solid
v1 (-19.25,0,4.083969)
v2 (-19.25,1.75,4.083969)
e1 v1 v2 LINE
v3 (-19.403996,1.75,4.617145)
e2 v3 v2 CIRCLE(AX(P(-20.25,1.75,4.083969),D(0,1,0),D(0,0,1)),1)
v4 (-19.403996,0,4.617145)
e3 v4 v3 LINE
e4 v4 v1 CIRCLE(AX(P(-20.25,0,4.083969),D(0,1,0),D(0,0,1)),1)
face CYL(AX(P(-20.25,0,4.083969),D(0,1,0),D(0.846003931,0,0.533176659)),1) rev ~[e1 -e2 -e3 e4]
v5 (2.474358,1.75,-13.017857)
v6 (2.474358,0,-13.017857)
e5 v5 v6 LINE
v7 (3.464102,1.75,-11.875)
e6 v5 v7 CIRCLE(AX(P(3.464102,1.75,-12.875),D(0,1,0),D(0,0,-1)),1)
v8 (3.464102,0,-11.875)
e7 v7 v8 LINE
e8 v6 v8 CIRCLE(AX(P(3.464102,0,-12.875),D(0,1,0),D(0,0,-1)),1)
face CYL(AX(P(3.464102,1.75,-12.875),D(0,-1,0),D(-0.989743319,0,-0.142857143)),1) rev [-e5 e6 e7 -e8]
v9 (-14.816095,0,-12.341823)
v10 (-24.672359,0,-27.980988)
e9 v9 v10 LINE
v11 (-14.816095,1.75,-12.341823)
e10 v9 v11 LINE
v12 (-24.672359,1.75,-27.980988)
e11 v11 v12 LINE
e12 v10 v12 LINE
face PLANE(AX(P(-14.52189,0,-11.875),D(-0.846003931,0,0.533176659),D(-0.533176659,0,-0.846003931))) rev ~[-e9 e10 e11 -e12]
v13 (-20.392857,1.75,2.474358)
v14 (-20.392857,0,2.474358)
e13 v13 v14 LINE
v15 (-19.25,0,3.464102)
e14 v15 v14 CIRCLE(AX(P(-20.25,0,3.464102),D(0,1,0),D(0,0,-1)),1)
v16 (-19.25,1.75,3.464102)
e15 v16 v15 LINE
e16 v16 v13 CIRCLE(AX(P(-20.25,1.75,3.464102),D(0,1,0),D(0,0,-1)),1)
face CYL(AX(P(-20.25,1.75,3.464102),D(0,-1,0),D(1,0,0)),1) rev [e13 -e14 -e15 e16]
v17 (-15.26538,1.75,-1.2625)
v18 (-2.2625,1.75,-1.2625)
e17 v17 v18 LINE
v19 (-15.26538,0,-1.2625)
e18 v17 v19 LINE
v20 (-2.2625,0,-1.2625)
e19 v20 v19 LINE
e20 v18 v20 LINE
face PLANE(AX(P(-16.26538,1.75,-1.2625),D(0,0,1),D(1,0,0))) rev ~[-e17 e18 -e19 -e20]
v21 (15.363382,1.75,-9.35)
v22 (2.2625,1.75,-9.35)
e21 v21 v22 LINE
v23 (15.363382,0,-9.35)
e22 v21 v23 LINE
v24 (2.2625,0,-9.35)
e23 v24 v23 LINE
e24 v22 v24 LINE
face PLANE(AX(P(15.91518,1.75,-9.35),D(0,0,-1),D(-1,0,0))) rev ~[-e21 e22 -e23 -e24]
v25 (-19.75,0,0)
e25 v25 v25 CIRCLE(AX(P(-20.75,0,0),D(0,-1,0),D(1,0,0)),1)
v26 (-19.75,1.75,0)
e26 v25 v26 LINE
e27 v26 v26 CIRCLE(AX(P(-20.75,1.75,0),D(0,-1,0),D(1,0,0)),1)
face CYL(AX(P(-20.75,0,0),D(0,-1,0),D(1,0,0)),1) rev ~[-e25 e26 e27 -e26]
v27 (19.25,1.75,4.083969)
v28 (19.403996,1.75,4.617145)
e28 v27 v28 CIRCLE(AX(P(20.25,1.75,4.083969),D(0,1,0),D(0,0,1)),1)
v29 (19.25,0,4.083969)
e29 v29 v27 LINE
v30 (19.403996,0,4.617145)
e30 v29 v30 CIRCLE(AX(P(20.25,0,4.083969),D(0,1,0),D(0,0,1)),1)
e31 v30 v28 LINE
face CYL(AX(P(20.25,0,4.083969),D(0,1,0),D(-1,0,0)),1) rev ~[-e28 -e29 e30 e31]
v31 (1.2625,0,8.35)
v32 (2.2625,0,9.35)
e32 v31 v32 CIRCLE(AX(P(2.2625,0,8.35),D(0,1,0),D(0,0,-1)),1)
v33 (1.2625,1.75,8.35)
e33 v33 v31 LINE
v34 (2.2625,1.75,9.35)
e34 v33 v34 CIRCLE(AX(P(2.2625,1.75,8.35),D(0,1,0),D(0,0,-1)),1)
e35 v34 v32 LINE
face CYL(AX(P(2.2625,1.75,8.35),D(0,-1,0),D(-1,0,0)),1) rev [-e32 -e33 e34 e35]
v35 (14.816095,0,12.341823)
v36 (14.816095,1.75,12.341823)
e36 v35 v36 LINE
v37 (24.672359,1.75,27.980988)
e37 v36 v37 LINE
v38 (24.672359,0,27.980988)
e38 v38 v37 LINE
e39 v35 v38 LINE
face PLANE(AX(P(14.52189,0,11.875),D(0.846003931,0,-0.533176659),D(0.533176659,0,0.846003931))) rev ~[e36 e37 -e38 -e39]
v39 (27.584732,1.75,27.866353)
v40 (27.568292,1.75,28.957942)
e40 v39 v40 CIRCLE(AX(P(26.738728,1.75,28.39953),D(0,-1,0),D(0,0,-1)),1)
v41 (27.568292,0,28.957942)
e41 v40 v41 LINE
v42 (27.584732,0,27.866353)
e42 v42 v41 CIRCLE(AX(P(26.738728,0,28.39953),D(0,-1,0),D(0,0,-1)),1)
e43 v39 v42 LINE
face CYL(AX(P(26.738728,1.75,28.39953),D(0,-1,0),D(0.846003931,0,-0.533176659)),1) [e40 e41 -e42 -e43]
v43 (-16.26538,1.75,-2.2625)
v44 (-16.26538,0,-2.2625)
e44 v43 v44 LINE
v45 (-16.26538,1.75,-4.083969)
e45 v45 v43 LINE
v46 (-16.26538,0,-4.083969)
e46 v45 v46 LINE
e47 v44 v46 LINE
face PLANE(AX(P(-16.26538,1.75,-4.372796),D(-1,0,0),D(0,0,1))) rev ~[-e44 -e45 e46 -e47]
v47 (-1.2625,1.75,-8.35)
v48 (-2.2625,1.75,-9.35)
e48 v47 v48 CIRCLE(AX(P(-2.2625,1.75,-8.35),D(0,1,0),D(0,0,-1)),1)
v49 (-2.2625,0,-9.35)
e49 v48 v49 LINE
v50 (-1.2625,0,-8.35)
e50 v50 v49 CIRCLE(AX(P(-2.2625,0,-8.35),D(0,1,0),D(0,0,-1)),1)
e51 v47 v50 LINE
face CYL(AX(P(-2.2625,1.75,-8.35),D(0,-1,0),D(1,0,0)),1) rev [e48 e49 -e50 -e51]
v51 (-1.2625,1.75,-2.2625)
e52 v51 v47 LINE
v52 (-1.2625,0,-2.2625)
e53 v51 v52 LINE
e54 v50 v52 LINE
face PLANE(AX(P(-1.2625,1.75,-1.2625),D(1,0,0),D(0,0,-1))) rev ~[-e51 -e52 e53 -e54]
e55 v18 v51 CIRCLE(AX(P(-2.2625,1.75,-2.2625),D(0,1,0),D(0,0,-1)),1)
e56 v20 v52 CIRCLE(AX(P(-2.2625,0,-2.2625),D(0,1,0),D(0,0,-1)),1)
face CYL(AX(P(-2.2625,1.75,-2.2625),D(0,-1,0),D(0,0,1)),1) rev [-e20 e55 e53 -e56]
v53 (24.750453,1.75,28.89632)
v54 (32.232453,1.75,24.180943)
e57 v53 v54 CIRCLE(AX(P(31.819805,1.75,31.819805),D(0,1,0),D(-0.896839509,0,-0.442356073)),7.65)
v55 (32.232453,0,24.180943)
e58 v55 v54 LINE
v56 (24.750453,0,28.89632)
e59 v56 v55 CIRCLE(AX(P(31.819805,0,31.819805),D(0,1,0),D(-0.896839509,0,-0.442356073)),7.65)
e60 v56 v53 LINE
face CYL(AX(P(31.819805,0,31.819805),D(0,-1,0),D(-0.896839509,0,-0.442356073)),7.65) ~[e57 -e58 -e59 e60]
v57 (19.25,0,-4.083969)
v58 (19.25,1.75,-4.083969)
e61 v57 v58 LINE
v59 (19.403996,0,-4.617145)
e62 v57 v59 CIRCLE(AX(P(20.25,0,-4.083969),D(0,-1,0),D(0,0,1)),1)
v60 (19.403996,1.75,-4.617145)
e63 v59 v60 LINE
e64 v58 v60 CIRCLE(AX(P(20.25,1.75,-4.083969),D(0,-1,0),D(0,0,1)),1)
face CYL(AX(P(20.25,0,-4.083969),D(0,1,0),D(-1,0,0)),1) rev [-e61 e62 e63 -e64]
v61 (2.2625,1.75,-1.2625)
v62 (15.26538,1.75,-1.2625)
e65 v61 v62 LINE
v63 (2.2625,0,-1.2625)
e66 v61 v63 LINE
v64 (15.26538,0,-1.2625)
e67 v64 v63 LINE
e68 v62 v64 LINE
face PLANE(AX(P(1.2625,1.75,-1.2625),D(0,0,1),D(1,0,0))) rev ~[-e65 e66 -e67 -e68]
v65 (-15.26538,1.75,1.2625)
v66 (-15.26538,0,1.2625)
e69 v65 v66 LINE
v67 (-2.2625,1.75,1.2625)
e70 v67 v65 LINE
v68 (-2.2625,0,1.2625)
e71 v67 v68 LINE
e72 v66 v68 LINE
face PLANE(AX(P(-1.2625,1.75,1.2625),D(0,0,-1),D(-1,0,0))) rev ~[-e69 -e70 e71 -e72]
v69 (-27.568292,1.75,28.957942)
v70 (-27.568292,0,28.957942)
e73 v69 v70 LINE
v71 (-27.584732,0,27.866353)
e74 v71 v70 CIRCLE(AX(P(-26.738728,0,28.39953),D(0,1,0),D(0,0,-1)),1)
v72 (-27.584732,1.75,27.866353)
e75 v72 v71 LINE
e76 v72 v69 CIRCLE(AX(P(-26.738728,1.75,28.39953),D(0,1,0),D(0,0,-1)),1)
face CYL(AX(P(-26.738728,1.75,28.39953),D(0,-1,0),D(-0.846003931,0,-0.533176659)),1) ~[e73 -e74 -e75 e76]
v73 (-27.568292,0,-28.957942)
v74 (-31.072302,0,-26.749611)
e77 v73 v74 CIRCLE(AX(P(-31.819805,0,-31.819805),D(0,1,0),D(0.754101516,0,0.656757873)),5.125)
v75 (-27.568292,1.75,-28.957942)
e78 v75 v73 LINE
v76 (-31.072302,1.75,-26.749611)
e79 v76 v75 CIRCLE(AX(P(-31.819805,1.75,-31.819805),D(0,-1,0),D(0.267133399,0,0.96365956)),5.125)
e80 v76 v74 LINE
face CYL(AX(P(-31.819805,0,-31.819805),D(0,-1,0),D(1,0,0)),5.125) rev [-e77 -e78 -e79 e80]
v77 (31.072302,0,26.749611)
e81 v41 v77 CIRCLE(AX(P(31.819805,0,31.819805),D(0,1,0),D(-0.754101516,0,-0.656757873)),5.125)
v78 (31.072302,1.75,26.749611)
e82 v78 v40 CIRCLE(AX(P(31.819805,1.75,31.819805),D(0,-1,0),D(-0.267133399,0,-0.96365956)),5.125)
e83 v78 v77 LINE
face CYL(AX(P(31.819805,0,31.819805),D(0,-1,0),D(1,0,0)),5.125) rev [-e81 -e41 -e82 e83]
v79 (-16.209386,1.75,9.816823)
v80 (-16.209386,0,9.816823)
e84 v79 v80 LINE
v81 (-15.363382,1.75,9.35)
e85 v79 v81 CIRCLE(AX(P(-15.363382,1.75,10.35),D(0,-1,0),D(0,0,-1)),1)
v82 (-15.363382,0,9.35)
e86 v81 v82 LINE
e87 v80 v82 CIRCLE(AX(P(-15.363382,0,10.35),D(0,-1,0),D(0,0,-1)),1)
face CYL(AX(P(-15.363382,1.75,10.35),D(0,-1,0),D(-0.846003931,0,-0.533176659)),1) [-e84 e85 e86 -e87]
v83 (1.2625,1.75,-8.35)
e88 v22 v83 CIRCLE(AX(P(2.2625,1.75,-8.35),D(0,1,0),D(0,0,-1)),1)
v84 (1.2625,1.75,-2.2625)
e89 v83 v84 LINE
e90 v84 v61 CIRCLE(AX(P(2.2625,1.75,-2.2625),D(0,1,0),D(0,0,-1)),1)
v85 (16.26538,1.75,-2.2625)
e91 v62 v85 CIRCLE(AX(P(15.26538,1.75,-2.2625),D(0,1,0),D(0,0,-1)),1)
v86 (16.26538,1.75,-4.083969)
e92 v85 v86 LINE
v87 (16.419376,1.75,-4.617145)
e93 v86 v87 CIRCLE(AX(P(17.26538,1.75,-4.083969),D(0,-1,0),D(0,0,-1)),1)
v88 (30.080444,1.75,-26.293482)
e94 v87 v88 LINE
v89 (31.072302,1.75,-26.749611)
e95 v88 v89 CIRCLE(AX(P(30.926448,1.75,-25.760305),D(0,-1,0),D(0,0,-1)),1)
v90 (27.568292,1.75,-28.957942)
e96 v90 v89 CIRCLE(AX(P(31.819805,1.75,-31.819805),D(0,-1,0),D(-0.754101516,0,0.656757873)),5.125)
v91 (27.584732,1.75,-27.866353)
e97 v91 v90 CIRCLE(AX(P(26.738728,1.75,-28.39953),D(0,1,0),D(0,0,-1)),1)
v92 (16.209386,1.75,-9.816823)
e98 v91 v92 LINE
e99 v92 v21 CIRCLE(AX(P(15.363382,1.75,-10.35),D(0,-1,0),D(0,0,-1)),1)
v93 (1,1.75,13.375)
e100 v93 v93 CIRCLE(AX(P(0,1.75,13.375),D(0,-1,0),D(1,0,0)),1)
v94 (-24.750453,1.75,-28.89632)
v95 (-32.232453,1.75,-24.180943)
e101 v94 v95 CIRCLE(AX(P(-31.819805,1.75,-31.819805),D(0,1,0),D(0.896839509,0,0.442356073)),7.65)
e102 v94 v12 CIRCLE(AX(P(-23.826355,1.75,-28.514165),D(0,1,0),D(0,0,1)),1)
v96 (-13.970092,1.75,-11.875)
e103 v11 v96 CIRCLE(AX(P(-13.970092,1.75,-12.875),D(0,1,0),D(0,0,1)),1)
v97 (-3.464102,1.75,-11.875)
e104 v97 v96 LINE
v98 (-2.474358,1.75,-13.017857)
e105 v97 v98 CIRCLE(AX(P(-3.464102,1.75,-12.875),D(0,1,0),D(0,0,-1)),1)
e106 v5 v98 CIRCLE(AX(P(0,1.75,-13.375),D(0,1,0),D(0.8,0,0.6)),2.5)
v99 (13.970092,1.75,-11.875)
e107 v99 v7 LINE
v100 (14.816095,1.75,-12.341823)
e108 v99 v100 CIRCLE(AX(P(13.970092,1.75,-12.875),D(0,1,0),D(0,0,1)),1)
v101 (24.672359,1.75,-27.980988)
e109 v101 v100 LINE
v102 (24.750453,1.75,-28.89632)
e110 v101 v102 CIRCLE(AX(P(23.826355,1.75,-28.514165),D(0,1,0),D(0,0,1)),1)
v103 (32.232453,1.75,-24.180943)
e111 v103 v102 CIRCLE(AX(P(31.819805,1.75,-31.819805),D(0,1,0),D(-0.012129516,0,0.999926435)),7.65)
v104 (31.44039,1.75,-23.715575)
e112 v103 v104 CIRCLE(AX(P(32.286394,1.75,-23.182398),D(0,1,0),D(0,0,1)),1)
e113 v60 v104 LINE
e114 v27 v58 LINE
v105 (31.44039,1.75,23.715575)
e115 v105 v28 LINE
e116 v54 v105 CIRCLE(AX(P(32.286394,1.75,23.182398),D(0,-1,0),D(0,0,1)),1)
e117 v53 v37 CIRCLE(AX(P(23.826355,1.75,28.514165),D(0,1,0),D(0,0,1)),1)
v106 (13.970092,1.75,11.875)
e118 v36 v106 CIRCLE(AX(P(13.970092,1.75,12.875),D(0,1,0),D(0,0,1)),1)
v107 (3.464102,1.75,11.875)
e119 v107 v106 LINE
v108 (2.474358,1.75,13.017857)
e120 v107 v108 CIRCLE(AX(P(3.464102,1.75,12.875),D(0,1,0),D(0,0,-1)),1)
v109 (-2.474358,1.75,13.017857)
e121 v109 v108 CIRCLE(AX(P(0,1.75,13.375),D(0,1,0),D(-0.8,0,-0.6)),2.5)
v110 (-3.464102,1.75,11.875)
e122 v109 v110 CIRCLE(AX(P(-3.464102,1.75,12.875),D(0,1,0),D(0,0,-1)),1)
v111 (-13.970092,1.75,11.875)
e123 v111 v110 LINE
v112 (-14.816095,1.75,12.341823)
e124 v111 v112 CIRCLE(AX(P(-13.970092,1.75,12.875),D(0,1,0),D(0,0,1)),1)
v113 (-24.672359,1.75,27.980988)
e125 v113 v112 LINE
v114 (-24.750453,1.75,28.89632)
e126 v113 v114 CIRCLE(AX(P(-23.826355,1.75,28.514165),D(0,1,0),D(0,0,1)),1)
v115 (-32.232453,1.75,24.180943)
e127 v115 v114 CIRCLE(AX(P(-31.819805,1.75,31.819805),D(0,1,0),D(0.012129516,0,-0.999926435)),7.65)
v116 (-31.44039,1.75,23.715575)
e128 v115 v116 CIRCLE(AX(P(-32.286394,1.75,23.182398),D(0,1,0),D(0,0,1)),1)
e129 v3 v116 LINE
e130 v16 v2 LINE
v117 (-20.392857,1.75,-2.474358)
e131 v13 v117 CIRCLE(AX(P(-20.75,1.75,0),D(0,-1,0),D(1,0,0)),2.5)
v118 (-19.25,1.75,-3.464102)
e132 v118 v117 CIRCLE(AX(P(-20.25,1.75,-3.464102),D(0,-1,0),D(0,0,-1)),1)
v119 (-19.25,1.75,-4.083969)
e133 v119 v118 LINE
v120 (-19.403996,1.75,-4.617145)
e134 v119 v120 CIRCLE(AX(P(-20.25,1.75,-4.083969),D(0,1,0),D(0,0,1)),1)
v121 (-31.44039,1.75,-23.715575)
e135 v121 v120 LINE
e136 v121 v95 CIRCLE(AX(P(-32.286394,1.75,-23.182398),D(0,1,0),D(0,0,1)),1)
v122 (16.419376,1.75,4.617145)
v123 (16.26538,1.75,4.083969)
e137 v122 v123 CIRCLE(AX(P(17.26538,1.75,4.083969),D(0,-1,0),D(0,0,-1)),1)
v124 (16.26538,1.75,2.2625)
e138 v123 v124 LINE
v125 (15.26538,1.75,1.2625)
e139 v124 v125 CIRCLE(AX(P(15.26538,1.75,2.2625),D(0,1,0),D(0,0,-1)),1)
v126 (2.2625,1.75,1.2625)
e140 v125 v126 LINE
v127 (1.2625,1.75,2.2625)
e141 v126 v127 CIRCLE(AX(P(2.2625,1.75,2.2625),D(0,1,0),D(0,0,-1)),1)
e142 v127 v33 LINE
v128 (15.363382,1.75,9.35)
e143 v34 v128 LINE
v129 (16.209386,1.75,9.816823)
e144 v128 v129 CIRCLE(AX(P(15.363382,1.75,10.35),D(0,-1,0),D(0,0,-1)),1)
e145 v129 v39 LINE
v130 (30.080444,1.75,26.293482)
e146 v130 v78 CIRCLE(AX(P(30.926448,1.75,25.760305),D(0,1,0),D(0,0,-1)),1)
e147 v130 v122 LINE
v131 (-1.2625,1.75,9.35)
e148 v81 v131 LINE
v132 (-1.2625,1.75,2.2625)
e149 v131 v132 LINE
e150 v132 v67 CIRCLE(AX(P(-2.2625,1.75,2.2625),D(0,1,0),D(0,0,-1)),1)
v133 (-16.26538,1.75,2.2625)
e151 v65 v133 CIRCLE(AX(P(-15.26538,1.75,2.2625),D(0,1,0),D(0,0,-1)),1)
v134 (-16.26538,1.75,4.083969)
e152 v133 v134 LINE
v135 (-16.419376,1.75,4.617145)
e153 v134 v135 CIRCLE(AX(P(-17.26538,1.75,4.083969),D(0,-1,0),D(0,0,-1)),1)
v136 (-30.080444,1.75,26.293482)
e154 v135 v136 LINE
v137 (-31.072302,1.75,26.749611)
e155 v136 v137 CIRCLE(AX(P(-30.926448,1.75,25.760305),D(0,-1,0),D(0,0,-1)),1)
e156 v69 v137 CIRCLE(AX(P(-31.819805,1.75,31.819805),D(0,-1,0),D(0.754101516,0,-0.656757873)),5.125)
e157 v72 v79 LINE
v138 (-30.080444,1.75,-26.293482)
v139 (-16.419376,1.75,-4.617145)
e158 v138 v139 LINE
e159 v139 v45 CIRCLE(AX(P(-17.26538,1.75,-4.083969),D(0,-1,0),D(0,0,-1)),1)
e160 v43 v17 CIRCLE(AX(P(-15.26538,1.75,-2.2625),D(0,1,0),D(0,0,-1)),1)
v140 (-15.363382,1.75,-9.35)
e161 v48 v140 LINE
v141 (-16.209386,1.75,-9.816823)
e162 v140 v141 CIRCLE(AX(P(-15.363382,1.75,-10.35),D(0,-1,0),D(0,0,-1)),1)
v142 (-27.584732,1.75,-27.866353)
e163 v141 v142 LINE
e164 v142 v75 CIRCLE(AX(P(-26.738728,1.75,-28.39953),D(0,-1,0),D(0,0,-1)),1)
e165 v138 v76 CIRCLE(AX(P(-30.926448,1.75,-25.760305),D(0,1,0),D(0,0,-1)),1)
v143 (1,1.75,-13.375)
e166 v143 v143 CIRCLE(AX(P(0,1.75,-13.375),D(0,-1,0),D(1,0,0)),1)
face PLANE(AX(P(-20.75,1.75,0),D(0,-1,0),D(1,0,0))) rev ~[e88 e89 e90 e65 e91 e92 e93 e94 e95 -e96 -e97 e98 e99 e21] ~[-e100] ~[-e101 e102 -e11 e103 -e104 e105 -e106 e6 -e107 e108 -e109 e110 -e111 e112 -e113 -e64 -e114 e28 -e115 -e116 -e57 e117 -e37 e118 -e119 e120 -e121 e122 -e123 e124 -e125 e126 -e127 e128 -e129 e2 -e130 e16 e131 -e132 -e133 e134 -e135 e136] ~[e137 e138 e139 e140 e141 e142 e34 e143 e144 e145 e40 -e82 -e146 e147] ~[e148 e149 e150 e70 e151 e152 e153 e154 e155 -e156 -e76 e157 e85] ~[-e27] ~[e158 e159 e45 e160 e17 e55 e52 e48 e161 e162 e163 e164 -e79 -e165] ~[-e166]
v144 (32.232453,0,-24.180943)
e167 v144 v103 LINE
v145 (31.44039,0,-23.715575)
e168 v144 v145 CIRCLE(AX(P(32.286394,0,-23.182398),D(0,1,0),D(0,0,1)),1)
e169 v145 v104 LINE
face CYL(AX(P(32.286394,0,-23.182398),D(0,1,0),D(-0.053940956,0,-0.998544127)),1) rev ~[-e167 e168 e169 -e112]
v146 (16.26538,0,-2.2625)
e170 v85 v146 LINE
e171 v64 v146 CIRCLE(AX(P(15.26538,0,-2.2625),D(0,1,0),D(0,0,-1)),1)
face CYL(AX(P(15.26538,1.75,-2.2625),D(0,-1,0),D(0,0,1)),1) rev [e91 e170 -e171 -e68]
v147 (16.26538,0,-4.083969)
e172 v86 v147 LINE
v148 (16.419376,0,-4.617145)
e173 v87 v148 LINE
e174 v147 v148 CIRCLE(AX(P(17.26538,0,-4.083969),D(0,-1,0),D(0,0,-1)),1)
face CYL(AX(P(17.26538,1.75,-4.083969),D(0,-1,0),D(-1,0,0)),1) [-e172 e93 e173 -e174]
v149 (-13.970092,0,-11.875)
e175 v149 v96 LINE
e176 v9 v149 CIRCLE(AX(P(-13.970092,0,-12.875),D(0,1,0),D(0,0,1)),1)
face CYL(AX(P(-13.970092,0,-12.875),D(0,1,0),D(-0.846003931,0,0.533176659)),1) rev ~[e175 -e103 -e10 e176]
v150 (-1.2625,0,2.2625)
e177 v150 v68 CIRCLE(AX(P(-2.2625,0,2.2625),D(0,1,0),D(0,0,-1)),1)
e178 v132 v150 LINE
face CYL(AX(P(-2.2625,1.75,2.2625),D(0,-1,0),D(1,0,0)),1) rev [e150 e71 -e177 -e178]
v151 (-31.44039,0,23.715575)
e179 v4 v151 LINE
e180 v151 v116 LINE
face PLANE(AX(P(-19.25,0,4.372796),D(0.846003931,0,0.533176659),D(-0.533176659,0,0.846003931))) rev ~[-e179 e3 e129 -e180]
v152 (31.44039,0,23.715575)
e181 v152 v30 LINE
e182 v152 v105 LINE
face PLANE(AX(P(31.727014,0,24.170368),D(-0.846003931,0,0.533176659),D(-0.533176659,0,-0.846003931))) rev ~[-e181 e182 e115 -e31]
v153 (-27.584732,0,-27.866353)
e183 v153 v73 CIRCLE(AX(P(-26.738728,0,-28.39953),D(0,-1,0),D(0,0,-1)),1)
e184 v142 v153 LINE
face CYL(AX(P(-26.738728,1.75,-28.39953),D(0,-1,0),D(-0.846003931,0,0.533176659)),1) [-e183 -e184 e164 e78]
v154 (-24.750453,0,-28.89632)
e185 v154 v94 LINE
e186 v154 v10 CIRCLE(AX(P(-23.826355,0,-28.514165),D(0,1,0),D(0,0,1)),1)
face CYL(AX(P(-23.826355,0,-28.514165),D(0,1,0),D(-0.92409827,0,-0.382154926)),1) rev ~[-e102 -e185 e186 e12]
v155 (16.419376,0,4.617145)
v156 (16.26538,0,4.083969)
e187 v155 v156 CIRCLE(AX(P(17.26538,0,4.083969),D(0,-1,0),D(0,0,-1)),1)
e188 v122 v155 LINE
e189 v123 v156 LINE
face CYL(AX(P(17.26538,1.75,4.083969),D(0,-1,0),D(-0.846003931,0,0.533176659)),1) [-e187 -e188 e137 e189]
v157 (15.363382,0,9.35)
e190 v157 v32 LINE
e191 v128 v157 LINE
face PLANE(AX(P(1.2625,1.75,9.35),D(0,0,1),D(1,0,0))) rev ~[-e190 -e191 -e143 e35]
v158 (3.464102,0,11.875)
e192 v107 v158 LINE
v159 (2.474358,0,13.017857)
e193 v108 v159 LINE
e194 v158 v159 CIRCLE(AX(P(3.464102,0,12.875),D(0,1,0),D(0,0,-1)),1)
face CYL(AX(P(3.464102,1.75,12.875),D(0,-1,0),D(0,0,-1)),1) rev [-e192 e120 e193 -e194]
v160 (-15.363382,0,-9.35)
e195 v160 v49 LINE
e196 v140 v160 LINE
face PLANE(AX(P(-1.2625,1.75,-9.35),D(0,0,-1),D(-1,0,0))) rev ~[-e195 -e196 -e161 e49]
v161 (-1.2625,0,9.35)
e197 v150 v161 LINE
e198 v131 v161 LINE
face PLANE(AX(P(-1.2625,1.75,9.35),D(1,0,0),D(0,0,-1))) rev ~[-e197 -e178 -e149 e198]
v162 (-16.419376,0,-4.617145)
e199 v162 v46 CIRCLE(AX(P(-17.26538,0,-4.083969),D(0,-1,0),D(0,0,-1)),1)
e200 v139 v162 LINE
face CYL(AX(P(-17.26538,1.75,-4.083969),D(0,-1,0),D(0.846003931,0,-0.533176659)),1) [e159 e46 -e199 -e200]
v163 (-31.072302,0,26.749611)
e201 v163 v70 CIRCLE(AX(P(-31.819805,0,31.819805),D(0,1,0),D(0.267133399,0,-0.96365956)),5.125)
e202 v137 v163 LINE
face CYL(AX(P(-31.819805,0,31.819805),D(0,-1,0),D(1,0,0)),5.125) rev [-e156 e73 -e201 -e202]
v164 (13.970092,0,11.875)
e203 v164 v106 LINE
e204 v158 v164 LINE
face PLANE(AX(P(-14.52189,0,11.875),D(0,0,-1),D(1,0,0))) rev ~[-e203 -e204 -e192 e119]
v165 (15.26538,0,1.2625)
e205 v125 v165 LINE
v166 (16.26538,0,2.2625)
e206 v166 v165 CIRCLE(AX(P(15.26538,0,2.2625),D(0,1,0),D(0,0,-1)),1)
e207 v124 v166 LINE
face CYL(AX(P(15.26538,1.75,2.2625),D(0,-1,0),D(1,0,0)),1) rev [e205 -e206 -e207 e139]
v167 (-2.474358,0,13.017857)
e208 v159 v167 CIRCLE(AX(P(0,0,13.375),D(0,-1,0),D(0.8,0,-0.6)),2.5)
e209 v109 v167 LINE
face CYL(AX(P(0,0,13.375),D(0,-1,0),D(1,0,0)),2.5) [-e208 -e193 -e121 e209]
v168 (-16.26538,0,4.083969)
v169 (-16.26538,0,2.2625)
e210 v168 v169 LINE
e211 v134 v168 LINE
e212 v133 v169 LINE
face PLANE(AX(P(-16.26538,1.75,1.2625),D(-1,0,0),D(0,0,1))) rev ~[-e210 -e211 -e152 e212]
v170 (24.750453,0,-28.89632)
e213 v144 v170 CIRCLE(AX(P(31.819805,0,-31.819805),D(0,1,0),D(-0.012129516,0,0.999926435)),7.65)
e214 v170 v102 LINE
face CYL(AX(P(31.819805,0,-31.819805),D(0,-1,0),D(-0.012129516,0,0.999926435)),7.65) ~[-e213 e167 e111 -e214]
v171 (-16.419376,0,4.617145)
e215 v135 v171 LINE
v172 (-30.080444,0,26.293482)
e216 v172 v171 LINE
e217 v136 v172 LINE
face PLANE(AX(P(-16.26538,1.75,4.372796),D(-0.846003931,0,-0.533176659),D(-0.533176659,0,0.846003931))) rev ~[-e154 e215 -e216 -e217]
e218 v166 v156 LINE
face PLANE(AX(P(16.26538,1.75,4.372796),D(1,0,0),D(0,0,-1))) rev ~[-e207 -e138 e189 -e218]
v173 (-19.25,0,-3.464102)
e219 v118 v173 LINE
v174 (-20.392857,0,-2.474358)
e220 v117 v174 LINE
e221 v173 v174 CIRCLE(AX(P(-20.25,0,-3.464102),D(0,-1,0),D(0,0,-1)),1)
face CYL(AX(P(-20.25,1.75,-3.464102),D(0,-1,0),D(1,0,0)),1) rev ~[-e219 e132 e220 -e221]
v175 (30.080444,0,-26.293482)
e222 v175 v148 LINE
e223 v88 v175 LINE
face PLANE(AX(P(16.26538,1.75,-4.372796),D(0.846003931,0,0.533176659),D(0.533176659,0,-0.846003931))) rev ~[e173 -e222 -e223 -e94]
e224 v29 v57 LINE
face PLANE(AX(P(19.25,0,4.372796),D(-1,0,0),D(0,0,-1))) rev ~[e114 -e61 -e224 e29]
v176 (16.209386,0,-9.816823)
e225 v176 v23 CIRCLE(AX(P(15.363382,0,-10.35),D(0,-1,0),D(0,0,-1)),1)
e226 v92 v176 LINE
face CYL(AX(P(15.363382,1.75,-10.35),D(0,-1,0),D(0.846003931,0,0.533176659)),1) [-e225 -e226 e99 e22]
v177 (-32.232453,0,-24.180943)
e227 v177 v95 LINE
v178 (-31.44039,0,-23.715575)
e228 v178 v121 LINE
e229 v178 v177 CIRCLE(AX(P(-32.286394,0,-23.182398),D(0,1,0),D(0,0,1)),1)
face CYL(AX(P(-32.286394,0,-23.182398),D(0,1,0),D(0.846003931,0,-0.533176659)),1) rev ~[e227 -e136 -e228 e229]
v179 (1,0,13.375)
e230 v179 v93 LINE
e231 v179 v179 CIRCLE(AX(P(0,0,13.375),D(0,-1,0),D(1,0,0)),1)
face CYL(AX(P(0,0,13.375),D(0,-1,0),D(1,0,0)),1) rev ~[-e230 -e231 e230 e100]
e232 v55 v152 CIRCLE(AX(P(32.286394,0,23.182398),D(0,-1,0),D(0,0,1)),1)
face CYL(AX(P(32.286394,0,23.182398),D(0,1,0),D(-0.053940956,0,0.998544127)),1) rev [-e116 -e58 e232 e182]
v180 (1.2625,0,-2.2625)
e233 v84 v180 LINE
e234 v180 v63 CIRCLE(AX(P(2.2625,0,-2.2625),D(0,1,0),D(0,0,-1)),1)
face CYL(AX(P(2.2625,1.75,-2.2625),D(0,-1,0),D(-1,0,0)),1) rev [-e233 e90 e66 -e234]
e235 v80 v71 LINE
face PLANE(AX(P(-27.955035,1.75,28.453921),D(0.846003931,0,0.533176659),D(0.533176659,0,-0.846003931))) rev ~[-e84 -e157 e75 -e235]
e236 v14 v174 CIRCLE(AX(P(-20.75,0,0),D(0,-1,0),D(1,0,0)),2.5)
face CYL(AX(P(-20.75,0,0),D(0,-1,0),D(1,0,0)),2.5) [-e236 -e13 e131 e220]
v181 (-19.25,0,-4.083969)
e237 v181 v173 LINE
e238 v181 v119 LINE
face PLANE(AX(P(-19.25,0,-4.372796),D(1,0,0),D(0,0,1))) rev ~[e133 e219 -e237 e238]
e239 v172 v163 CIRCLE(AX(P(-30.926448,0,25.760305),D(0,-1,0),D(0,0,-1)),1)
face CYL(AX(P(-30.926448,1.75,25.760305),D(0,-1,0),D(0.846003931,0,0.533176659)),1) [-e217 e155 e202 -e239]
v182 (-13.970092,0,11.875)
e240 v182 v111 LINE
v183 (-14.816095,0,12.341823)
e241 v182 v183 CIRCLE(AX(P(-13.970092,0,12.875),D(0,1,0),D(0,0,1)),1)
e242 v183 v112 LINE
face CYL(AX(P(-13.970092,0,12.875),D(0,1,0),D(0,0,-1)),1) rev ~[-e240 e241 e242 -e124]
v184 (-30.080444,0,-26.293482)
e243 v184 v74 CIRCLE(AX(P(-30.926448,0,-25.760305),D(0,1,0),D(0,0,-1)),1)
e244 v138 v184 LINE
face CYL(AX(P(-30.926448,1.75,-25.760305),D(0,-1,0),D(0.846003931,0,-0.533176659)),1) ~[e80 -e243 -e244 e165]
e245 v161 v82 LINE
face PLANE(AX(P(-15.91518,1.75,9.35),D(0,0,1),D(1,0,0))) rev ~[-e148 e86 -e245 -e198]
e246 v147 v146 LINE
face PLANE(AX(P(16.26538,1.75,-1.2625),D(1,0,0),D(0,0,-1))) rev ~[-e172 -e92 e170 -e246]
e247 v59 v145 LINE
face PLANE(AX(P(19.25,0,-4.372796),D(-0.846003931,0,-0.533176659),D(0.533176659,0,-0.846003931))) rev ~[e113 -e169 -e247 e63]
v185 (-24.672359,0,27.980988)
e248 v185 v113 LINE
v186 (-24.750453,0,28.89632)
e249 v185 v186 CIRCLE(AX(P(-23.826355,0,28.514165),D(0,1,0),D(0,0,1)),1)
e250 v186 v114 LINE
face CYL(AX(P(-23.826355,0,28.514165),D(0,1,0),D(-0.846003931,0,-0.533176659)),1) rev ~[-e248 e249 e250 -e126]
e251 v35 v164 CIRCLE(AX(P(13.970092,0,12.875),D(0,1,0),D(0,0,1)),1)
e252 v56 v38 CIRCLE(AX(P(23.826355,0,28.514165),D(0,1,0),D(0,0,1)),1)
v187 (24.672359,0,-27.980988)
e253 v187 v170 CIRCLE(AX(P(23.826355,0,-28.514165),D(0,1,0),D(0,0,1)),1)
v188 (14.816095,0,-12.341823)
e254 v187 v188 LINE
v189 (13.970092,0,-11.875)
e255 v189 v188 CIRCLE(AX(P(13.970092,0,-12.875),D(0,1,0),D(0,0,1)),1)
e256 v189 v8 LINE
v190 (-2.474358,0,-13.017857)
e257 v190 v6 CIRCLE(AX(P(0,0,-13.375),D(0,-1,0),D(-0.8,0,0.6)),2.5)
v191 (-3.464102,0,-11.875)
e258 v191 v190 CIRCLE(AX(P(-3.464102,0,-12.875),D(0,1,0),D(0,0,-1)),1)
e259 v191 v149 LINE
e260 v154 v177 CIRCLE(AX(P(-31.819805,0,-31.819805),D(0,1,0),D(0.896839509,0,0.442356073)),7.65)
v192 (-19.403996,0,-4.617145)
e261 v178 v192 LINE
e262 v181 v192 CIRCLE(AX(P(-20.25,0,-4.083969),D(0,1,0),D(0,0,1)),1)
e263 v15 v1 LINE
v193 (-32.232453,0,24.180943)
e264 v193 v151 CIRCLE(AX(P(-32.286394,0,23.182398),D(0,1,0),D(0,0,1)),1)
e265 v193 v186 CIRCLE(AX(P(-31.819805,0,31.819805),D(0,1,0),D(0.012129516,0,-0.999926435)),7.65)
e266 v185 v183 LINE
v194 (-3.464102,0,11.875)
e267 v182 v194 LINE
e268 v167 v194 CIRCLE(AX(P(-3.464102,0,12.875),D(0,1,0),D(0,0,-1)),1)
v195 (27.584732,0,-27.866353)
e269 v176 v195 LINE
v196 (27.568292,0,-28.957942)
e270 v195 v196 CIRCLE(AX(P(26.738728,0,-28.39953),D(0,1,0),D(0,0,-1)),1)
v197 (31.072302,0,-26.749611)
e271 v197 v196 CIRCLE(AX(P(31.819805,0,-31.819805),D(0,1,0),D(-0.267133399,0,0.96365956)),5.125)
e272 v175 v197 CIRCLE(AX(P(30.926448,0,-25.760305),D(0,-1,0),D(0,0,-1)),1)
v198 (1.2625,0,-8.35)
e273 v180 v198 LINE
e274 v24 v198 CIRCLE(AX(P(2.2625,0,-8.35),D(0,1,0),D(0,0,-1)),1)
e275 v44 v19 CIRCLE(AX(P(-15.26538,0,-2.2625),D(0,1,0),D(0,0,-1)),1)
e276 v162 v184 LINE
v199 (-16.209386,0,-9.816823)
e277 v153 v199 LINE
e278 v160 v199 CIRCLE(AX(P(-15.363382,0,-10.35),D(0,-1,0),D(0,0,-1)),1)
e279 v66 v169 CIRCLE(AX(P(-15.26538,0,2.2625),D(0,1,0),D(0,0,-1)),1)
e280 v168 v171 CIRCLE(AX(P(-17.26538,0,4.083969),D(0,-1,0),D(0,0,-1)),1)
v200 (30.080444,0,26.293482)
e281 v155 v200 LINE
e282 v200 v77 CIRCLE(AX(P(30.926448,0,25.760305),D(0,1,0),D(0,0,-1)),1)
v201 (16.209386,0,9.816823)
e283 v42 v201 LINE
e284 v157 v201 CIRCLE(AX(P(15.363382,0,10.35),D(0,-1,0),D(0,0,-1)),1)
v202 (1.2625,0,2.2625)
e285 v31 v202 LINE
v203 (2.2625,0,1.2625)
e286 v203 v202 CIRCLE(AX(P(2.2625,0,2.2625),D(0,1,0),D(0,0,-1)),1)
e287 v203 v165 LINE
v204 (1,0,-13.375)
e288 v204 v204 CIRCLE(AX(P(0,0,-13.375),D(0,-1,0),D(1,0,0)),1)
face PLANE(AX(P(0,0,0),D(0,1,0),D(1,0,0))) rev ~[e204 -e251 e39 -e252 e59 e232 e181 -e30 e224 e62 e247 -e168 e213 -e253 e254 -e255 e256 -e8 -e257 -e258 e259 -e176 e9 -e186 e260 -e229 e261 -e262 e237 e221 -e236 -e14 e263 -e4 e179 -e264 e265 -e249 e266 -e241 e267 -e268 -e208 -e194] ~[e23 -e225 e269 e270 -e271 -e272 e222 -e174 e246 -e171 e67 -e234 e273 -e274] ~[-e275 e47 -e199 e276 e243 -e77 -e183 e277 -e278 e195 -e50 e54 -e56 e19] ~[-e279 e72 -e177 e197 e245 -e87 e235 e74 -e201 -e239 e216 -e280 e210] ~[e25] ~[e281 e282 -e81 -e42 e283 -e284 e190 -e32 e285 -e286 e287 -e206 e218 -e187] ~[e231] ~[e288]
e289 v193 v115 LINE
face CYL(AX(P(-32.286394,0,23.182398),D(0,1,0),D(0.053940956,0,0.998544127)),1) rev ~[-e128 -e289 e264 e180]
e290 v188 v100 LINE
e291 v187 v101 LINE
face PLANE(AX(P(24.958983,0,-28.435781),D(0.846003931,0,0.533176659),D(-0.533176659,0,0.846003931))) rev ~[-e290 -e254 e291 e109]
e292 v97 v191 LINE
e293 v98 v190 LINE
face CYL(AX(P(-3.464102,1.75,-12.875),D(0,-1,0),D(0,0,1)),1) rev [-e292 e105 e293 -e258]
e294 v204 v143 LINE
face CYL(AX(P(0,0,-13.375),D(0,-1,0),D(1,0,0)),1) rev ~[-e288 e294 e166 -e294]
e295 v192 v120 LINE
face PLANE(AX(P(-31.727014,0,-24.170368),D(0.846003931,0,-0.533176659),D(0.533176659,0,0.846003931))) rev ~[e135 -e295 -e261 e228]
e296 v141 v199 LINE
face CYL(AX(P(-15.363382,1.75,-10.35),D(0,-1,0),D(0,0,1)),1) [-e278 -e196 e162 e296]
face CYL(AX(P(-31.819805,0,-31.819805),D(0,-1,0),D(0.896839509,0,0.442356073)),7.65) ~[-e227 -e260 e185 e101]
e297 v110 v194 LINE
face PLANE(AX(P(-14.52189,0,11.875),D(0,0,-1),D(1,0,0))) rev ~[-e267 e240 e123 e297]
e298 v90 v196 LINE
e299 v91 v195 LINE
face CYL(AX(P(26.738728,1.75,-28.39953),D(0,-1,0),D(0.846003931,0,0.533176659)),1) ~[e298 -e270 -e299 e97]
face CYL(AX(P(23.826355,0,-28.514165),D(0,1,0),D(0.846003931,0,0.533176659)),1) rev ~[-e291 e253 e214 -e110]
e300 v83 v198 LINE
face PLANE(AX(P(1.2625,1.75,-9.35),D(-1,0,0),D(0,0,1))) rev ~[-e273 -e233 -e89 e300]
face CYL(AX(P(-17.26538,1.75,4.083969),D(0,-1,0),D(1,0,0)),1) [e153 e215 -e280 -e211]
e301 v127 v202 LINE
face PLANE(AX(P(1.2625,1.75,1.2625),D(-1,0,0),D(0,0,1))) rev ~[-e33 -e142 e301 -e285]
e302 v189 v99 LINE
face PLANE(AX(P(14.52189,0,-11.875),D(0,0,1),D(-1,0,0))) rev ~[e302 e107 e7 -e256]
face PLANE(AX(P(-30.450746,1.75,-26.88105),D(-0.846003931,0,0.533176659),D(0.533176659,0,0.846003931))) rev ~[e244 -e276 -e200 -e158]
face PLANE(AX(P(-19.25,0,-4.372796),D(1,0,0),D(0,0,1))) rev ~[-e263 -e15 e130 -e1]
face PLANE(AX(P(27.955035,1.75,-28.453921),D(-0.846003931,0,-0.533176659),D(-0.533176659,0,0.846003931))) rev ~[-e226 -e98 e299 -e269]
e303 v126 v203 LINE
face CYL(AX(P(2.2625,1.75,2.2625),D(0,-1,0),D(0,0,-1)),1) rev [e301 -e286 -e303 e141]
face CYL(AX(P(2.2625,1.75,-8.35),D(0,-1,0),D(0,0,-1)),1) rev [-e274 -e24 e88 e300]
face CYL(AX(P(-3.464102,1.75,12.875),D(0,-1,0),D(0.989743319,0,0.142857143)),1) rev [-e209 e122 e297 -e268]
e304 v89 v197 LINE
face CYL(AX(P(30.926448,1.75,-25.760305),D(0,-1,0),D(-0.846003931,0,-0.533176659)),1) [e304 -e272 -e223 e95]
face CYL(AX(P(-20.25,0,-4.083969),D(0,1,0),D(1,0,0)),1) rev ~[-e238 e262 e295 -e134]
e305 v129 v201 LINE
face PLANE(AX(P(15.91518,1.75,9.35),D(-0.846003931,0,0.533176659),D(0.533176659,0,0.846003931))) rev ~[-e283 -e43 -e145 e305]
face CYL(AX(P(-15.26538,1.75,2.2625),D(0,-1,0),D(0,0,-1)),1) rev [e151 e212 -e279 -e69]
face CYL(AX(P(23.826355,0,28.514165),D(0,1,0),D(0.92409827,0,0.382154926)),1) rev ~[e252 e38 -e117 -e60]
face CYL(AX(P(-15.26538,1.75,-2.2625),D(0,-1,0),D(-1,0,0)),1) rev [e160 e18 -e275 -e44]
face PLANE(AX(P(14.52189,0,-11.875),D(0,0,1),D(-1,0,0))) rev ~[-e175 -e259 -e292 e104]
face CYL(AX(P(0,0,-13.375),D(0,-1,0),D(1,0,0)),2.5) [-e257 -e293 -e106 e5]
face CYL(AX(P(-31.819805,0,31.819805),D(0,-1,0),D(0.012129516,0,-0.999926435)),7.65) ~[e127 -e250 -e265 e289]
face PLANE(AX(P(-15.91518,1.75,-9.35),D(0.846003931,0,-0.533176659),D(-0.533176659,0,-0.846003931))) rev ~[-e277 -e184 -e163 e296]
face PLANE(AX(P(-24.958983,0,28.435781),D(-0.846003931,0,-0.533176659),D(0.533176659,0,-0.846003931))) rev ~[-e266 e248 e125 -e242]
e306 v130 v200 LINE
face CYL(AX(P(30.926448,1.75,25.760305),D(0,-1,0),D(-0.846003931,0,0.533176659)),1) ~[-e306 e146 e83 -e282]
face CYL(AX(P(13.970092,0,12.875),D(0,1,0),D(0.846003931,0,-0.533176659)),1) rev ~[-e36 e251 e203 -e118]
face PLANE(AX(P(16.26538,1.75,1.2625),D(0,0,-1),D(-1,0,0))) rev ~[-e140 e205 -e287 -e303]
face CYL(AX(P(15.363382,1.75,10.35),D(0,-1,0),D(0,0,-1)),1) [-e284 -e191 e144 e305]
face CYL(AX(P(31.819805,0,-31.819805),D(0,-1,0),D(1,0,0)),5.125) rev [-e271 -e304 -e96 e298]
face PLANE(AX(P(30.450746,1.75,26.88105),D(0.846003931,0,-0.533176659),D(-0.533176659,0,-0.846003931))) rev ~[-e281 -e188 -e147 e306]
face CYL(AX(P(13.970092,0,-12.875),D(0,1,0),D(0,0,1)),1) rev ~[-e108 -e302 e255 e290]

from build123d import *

# Parameters (mm, degrees)
SKETCH1_R           = 5.125
BOSS_EXTRUDE1_DEPTH = 1.75
CUT_EXTRUDE2_REACH  = 3.75
FILLET1_R           = 1
SKETCH4_R           = 2.5
SKETCH4_R_2         = 1
BOSS_EXTRUDE2_DEPTH = 1.75
FILLET2_R           = 1


with BuildPart() as part:
    # Sketch1 → Boss-Extrude1 (new body)
    with BuildSketch(Plane(origin=(0, 0, 0), x_dir=(1, 0, 0), z_dir=(0, 1, 0))):
        with BuildLine():
            Line((19.25, -4.372796114), (19.25, 4.372796114))
            Line((19.25, 4.372796114), (31.727014355, 24.170367928))
            ThreePointArc((31.727014355, 24.170367928), (35.898606592, 38.291735223), (24.95898291, 28.435781196))
            Line((24.95898291, 28.435781196), (14.52188958, 11.875))
            Line((14.52188958, 11.875), (-14.52188958, 11.875))
            Line((-14.52188958, 11.875), (-24.95898291, 28.435781196))
            ThreePointArc((-24.95898291, 28.435781196), (-35.898606592, 38.291735223), (-31.727014355, 24.170367928))
            Line((-31.727014355, 24.170367928), (-19.25, 4.372796114))
            Line((-19.25, 4.372796114), (-19.25, -4.372796114))
            Line((-19.25, -4.372796114), (-31.727014355, -24.170367928))
            ThreePointArc((-31.727014355, -24.170367928), (-35.898606592, -38.291735223), (-24.95898291, -28.435781196))
            Line((-24.95898291, -28.435781196), (-14.52188958, -11.875))
            Line((-14.52188958, -11.875), (14.52188958, -11.875))
            Line((14.52188958, -11.875), (24.95898291, -28.435781196))
            ThreePointArc((24.95898291, -28.435781196), (35.898606592, -38.291735223), (31.727014355, -24.170367928))
            Line((31.727014355, -24.170367928), (19.25, -4.372796114))
        make_face()
        with Locations((-31.819805153, 31.819805153)):
            Circle(SKETCH1_R, mode=Mode.SUBTRACT)
        with Locations((31.819805153, 31.819805153)):
            Circle(SKETCH1_R, mode=Mode.SUBTRACT)
        with Locations((-31.819805153, -31.819805153)):
            Circle(SKETCH1_R, mode=Mode.SUBTRACT)
        with Locations((31.819805153, -31.819805153)):
            Circle(SKETCH1_R, mode=Mode.SUBTRACT)
    extrude(amount=BOSS_EXTRUDE1_DEPTH)

    # Sketch2 → Cut-Extrude2 (cut, up to next)
    with BuildSketch(Plane(origin=(0, 1.75, 0), x_dir=(1, 0, 0), z_dir=(0, 1, 0)), mode=Mode.PRIVATE) as cut_extrude2_sk1:
        with BuildLine():
            ThreePointArc((-27.955034886, 28.453921053), (-29.087274778, 27.484035009), (-30.450746481, 26.88104991))
            Line((-30.450746481, 26.88104991), (-16.265380297, 4.372796114))
            Line((-16.265380297, 4.372796114), (-16.265380297, 1.2625))
            Line((-16.265380297, 1.2625), (-1.2625, 1.2625))
            Line((-1.2625, 1.2625), (-1.2625, 9.35))
            Line((-1.2625, 9.35), (-15.915179722, 9.35))
            Line((-15.915179722, 9.35), (-27.955034886, 28.453921053))
        make_face()
    cut_extrude2_tool1 = extrude(cut_extrude2_sk1.sketch, amount=-CUT_EXTRUDE2_REACH, mode=Mode.PRIVATE) & part.part
    add(cut_extrude2_tool1.solids().sort_by_distance((-22.27259, 1.75, -18.689269))[0], mode=Mode.SUBTRACT)
    # Sketch2 → Cut-Extrude2 (cut, up to next)
    with BuildSketch(Plane(origin=(0, 1.75, 0), x_dir=(1, 0, 0), z_dir=(0, 1, 0)), mode=Mode.PRIVATE) as cut_extrude2_sk2:
        with BuildLine():
            Line((-16.265380297, -1.2625), (-16.265380297, -4.372796114))
            Line((-16.265380297, -4.372796114), (-30.450746481, -26.88104991))
            ThreePointArc((-30.450746481, -26.88104991), (-29.087274778, -27.484035009), (-27.955034886, -28.453921053))
            Line((-27.955034886, -28.453921053), (-15.915179722, -9.35))
            Line((-15.915179722, -9.35), (-1.2625, -9.35))
            Line((-1.2625, -9.35), (-1.2625, -1.2625))
            Line((-1.2625, -1.2625), (-16.265380297, -1.2625))
        make_face()
    cut_extrude2_tool2 = extrude(cut_extrude2_sk2.sketch, amount=-CUT_EXTRUDE2_REACH, mode=Mode.PRIVATE) & part.part
    add(cut_extrude2_tool2.solids().sort_by_distance((-15.866466, 1.75, 2.817648))[0], mode=Mode.SUBTRACT)
    # Sketch2 → Cut-Extrude2 (cut, up to next)
    with BuildSketch(Plane(origin=(0, 1.75, 0), x_dir=(1, 0, 0), z_dir=(0, 1, 0)), mode=Mode.PRIVATE) as cut_extrude2_sk3:
        with BuildLine():
            Line((15.915179722, 9.35), (1.2625, 9.35))
            Line((1.2625, 9.35), (1.2625, 1.2625))
            Line((1.2625, 1.2625), (16.265380297, 1.2625))
            Line((16.265380297, 1.2625), (16.265380297, 4.372796114))
            Line((16.265380297, 4.372796114), (30.450746481, 26.88104991))
            ThreePointArc((30.450746481, 26.88104991), (29.087274778, 27.484035009), (27.955034886, 28.453921053))
            Line((27.955034886, 28.453921053), (15.915179722, 9.35))
        make_face()
    cut_extrude2_tool3 = extrude(cut_extrude2_sk3.sketch, amount=-CUT_EXTRUDE2_REACH, mode=Mode.PRIVATE) & part.part
    add(cut_extrude2_tool3.solids().sort_by_distance((22.27259, 1.75, -18.689269))[0], mode=Mode.SUBTRACT)
    # Sketch2 → Cut-Extrude2 (cut, up to next)
    with BuildSketch(Plane(origin=(0, 1.75, 0), x_dir=(1, 0, 0), z_dir=(0, 1, 0)), mode=Mode.PRIVATE) as cut_extrude2_sk4:
        with BuildLine():
            Line((1.2625, -1.2625), (1.2625, -9.35))
            Line((1.2625, -9.35), (15.915179722, -9.35))
            Line((15.915179722, -9.35), (27.955034886, -28.453921053))
            ThreePointArc((27.955034886, -28.453921053), (29.087274778, -27.484035009), (30.450746481, -26.88104991))
            Line((30.450746481, -26.88104991), (16.265380297, -4.372796114))
            Line((16.265380297, -4.372796114), (16.265380297, -1.2625))
            Line((16.265380297, -1.2625), (1.2625, -1.2625))
        make_face()
    cut_extrude2_tool4 = extrude(cut_extrude2_sk4.sketch, amount=-CUT_EXTRUDE2_REACH, mode=Mode.PRIVATE) & part.part
    add(cut_extrude2_tool4.solids().sort_by_distance((28.874583, 1.75, 27.146552))[0], mode=Mode.SUBTRACT)

    # Fillet1
    fillet1_edges = [part.edges().sort_by_distance(p)[0] for p in [
        (16.265380297, 0.875, -1.2625),
        (1.2625, 0.875, -1.2625),
        (1.2625, 0.875, -9.35),
        (15.915179722, 0.875, -9.35),
        (27.955034886, 0.875, -28.453921053),
        (30.450746481, 0.875, -26.88104991),
        (16.265380297, 0.875, -4.372796114),
        (-31.727014355, 0.875, 24.170367928),
        (-19.25, 0.875, 4.372796114),
        (-14.52188958, 0.875, 11.875),
        (-24.95898291, 0.875, 28.435781196),
        (1.2625, 0.875, 1.2625),
        (16.265380297, 0.875, 1.2625),
        (16.265380297, 0.875, 4.372796114),
        (30.450746481, 0.875, 26.88104991),
        (27.955034886, 0.875, 28.453921053),
        (15.915179722, 0.875, 9.35),
        (1.2625, 0.875, 9.35),
        (-16.265380297, 0.875, 1.2625),
        (-1.2625, 0.875, 1.2625),
        (-15.915179722, 0.875, 9.35),
        (-27.955034886, 0.875, 28.453921053),
        (-30.450746481, 0.875, 26.88104991),
        (-16.265380297, 0.875, 4.372796114),
        (-31.727014355, 0.875, -24.170367928),
        (-19.25, 0.875, -4.372796114),
        (-14.52188958, 0.875, -11.875),
        (-24.95898291, 0.875, -28.435781196),
        (31.727014355, 0.875, 24.170367928),
        (19.25, 0.875, 4.372796114),
        (14.52188958, 0.875, 11.875),
        (24.95898291, 0.875, 28.435781196),
        (24.95898291, 0.875, -28.435781196),
        (14.52188958, 0.875, -11.875),
        (19.25, 0.875, -4.372796114),
        (31.727014355, 0.875, -24.170367928),
        (-1.2625, 0.875, -1.2625),
        (-16.265380297, 0.875, -1.2625),
        (-16.265380297, 0.875, -4.372796114),
        (-30.450746481, 0.875, -26.88104991),
        (-27.955034886, 0.875, -28.453921053),
        (-15.915179722, 0.875, -9.35),
        (-1.2625, 0.875, -9.35),
    ]]
    fillet(fillet1_edges, radius=FILLET1_R)

    # Sketch4 → Boss-Extrude2 (add)
    with BuildSketch(Plane.XZ):
        with Locations((-20.75, 0)):
            Circle(SKETCH4_R)
        with Locations((-20.75, 0)):
            Circle(SKETCH4_R_2, mode=Mode.SUBTRACT)
        with Locations((0, -13.375)):
            Circle(SKETCH4_R)
        Polygon((0.866025404, -11.875), (-0.866025404, -11.875), (-1.732050808, -13.375), (-0.866025404, -14.875), (0.866025404, -14.875), (1.732050808, -13.375), align=None, mode=Mode.SUBTRACT)
        Polygon((1.732050808, -13.375), (0.866025404, -11.875), (-0.866025404, -11.875), (-1.732050808, -13.375), (-0.866025404, -14.875), (0.866025404, -14.875), align=None)
        with Locations((0, -13.375)):
            Circle(SKETCH4_R_2, mode=Mode.SUBTRACT)
        with Locations((0, 13.375)):
            Circle(SKETCH4_R)
        with Locations((0, 13.375)):
            Circle(SKETCH4_R_2, mode=Mode.SUBTRACT)
    extrude(amount=-BOSS_EXTRUDE2_DEPTH)

    # Fillet2
    fillet2_edges = [part.edges().sort_by_distance(p)[0] for p in [
        (-19.25, 0.875, -2),
        (-19.25, 0.875, 2),
        (-2, 0.875, -11.875),
        (2, 0.875, -11.875),
        (-2, 0.875, 11.875),
        (2, 0.875, 11.875),
    ]]
    fillet(fillet2_edges, radius=FILLET2_R)


solid = part.part
